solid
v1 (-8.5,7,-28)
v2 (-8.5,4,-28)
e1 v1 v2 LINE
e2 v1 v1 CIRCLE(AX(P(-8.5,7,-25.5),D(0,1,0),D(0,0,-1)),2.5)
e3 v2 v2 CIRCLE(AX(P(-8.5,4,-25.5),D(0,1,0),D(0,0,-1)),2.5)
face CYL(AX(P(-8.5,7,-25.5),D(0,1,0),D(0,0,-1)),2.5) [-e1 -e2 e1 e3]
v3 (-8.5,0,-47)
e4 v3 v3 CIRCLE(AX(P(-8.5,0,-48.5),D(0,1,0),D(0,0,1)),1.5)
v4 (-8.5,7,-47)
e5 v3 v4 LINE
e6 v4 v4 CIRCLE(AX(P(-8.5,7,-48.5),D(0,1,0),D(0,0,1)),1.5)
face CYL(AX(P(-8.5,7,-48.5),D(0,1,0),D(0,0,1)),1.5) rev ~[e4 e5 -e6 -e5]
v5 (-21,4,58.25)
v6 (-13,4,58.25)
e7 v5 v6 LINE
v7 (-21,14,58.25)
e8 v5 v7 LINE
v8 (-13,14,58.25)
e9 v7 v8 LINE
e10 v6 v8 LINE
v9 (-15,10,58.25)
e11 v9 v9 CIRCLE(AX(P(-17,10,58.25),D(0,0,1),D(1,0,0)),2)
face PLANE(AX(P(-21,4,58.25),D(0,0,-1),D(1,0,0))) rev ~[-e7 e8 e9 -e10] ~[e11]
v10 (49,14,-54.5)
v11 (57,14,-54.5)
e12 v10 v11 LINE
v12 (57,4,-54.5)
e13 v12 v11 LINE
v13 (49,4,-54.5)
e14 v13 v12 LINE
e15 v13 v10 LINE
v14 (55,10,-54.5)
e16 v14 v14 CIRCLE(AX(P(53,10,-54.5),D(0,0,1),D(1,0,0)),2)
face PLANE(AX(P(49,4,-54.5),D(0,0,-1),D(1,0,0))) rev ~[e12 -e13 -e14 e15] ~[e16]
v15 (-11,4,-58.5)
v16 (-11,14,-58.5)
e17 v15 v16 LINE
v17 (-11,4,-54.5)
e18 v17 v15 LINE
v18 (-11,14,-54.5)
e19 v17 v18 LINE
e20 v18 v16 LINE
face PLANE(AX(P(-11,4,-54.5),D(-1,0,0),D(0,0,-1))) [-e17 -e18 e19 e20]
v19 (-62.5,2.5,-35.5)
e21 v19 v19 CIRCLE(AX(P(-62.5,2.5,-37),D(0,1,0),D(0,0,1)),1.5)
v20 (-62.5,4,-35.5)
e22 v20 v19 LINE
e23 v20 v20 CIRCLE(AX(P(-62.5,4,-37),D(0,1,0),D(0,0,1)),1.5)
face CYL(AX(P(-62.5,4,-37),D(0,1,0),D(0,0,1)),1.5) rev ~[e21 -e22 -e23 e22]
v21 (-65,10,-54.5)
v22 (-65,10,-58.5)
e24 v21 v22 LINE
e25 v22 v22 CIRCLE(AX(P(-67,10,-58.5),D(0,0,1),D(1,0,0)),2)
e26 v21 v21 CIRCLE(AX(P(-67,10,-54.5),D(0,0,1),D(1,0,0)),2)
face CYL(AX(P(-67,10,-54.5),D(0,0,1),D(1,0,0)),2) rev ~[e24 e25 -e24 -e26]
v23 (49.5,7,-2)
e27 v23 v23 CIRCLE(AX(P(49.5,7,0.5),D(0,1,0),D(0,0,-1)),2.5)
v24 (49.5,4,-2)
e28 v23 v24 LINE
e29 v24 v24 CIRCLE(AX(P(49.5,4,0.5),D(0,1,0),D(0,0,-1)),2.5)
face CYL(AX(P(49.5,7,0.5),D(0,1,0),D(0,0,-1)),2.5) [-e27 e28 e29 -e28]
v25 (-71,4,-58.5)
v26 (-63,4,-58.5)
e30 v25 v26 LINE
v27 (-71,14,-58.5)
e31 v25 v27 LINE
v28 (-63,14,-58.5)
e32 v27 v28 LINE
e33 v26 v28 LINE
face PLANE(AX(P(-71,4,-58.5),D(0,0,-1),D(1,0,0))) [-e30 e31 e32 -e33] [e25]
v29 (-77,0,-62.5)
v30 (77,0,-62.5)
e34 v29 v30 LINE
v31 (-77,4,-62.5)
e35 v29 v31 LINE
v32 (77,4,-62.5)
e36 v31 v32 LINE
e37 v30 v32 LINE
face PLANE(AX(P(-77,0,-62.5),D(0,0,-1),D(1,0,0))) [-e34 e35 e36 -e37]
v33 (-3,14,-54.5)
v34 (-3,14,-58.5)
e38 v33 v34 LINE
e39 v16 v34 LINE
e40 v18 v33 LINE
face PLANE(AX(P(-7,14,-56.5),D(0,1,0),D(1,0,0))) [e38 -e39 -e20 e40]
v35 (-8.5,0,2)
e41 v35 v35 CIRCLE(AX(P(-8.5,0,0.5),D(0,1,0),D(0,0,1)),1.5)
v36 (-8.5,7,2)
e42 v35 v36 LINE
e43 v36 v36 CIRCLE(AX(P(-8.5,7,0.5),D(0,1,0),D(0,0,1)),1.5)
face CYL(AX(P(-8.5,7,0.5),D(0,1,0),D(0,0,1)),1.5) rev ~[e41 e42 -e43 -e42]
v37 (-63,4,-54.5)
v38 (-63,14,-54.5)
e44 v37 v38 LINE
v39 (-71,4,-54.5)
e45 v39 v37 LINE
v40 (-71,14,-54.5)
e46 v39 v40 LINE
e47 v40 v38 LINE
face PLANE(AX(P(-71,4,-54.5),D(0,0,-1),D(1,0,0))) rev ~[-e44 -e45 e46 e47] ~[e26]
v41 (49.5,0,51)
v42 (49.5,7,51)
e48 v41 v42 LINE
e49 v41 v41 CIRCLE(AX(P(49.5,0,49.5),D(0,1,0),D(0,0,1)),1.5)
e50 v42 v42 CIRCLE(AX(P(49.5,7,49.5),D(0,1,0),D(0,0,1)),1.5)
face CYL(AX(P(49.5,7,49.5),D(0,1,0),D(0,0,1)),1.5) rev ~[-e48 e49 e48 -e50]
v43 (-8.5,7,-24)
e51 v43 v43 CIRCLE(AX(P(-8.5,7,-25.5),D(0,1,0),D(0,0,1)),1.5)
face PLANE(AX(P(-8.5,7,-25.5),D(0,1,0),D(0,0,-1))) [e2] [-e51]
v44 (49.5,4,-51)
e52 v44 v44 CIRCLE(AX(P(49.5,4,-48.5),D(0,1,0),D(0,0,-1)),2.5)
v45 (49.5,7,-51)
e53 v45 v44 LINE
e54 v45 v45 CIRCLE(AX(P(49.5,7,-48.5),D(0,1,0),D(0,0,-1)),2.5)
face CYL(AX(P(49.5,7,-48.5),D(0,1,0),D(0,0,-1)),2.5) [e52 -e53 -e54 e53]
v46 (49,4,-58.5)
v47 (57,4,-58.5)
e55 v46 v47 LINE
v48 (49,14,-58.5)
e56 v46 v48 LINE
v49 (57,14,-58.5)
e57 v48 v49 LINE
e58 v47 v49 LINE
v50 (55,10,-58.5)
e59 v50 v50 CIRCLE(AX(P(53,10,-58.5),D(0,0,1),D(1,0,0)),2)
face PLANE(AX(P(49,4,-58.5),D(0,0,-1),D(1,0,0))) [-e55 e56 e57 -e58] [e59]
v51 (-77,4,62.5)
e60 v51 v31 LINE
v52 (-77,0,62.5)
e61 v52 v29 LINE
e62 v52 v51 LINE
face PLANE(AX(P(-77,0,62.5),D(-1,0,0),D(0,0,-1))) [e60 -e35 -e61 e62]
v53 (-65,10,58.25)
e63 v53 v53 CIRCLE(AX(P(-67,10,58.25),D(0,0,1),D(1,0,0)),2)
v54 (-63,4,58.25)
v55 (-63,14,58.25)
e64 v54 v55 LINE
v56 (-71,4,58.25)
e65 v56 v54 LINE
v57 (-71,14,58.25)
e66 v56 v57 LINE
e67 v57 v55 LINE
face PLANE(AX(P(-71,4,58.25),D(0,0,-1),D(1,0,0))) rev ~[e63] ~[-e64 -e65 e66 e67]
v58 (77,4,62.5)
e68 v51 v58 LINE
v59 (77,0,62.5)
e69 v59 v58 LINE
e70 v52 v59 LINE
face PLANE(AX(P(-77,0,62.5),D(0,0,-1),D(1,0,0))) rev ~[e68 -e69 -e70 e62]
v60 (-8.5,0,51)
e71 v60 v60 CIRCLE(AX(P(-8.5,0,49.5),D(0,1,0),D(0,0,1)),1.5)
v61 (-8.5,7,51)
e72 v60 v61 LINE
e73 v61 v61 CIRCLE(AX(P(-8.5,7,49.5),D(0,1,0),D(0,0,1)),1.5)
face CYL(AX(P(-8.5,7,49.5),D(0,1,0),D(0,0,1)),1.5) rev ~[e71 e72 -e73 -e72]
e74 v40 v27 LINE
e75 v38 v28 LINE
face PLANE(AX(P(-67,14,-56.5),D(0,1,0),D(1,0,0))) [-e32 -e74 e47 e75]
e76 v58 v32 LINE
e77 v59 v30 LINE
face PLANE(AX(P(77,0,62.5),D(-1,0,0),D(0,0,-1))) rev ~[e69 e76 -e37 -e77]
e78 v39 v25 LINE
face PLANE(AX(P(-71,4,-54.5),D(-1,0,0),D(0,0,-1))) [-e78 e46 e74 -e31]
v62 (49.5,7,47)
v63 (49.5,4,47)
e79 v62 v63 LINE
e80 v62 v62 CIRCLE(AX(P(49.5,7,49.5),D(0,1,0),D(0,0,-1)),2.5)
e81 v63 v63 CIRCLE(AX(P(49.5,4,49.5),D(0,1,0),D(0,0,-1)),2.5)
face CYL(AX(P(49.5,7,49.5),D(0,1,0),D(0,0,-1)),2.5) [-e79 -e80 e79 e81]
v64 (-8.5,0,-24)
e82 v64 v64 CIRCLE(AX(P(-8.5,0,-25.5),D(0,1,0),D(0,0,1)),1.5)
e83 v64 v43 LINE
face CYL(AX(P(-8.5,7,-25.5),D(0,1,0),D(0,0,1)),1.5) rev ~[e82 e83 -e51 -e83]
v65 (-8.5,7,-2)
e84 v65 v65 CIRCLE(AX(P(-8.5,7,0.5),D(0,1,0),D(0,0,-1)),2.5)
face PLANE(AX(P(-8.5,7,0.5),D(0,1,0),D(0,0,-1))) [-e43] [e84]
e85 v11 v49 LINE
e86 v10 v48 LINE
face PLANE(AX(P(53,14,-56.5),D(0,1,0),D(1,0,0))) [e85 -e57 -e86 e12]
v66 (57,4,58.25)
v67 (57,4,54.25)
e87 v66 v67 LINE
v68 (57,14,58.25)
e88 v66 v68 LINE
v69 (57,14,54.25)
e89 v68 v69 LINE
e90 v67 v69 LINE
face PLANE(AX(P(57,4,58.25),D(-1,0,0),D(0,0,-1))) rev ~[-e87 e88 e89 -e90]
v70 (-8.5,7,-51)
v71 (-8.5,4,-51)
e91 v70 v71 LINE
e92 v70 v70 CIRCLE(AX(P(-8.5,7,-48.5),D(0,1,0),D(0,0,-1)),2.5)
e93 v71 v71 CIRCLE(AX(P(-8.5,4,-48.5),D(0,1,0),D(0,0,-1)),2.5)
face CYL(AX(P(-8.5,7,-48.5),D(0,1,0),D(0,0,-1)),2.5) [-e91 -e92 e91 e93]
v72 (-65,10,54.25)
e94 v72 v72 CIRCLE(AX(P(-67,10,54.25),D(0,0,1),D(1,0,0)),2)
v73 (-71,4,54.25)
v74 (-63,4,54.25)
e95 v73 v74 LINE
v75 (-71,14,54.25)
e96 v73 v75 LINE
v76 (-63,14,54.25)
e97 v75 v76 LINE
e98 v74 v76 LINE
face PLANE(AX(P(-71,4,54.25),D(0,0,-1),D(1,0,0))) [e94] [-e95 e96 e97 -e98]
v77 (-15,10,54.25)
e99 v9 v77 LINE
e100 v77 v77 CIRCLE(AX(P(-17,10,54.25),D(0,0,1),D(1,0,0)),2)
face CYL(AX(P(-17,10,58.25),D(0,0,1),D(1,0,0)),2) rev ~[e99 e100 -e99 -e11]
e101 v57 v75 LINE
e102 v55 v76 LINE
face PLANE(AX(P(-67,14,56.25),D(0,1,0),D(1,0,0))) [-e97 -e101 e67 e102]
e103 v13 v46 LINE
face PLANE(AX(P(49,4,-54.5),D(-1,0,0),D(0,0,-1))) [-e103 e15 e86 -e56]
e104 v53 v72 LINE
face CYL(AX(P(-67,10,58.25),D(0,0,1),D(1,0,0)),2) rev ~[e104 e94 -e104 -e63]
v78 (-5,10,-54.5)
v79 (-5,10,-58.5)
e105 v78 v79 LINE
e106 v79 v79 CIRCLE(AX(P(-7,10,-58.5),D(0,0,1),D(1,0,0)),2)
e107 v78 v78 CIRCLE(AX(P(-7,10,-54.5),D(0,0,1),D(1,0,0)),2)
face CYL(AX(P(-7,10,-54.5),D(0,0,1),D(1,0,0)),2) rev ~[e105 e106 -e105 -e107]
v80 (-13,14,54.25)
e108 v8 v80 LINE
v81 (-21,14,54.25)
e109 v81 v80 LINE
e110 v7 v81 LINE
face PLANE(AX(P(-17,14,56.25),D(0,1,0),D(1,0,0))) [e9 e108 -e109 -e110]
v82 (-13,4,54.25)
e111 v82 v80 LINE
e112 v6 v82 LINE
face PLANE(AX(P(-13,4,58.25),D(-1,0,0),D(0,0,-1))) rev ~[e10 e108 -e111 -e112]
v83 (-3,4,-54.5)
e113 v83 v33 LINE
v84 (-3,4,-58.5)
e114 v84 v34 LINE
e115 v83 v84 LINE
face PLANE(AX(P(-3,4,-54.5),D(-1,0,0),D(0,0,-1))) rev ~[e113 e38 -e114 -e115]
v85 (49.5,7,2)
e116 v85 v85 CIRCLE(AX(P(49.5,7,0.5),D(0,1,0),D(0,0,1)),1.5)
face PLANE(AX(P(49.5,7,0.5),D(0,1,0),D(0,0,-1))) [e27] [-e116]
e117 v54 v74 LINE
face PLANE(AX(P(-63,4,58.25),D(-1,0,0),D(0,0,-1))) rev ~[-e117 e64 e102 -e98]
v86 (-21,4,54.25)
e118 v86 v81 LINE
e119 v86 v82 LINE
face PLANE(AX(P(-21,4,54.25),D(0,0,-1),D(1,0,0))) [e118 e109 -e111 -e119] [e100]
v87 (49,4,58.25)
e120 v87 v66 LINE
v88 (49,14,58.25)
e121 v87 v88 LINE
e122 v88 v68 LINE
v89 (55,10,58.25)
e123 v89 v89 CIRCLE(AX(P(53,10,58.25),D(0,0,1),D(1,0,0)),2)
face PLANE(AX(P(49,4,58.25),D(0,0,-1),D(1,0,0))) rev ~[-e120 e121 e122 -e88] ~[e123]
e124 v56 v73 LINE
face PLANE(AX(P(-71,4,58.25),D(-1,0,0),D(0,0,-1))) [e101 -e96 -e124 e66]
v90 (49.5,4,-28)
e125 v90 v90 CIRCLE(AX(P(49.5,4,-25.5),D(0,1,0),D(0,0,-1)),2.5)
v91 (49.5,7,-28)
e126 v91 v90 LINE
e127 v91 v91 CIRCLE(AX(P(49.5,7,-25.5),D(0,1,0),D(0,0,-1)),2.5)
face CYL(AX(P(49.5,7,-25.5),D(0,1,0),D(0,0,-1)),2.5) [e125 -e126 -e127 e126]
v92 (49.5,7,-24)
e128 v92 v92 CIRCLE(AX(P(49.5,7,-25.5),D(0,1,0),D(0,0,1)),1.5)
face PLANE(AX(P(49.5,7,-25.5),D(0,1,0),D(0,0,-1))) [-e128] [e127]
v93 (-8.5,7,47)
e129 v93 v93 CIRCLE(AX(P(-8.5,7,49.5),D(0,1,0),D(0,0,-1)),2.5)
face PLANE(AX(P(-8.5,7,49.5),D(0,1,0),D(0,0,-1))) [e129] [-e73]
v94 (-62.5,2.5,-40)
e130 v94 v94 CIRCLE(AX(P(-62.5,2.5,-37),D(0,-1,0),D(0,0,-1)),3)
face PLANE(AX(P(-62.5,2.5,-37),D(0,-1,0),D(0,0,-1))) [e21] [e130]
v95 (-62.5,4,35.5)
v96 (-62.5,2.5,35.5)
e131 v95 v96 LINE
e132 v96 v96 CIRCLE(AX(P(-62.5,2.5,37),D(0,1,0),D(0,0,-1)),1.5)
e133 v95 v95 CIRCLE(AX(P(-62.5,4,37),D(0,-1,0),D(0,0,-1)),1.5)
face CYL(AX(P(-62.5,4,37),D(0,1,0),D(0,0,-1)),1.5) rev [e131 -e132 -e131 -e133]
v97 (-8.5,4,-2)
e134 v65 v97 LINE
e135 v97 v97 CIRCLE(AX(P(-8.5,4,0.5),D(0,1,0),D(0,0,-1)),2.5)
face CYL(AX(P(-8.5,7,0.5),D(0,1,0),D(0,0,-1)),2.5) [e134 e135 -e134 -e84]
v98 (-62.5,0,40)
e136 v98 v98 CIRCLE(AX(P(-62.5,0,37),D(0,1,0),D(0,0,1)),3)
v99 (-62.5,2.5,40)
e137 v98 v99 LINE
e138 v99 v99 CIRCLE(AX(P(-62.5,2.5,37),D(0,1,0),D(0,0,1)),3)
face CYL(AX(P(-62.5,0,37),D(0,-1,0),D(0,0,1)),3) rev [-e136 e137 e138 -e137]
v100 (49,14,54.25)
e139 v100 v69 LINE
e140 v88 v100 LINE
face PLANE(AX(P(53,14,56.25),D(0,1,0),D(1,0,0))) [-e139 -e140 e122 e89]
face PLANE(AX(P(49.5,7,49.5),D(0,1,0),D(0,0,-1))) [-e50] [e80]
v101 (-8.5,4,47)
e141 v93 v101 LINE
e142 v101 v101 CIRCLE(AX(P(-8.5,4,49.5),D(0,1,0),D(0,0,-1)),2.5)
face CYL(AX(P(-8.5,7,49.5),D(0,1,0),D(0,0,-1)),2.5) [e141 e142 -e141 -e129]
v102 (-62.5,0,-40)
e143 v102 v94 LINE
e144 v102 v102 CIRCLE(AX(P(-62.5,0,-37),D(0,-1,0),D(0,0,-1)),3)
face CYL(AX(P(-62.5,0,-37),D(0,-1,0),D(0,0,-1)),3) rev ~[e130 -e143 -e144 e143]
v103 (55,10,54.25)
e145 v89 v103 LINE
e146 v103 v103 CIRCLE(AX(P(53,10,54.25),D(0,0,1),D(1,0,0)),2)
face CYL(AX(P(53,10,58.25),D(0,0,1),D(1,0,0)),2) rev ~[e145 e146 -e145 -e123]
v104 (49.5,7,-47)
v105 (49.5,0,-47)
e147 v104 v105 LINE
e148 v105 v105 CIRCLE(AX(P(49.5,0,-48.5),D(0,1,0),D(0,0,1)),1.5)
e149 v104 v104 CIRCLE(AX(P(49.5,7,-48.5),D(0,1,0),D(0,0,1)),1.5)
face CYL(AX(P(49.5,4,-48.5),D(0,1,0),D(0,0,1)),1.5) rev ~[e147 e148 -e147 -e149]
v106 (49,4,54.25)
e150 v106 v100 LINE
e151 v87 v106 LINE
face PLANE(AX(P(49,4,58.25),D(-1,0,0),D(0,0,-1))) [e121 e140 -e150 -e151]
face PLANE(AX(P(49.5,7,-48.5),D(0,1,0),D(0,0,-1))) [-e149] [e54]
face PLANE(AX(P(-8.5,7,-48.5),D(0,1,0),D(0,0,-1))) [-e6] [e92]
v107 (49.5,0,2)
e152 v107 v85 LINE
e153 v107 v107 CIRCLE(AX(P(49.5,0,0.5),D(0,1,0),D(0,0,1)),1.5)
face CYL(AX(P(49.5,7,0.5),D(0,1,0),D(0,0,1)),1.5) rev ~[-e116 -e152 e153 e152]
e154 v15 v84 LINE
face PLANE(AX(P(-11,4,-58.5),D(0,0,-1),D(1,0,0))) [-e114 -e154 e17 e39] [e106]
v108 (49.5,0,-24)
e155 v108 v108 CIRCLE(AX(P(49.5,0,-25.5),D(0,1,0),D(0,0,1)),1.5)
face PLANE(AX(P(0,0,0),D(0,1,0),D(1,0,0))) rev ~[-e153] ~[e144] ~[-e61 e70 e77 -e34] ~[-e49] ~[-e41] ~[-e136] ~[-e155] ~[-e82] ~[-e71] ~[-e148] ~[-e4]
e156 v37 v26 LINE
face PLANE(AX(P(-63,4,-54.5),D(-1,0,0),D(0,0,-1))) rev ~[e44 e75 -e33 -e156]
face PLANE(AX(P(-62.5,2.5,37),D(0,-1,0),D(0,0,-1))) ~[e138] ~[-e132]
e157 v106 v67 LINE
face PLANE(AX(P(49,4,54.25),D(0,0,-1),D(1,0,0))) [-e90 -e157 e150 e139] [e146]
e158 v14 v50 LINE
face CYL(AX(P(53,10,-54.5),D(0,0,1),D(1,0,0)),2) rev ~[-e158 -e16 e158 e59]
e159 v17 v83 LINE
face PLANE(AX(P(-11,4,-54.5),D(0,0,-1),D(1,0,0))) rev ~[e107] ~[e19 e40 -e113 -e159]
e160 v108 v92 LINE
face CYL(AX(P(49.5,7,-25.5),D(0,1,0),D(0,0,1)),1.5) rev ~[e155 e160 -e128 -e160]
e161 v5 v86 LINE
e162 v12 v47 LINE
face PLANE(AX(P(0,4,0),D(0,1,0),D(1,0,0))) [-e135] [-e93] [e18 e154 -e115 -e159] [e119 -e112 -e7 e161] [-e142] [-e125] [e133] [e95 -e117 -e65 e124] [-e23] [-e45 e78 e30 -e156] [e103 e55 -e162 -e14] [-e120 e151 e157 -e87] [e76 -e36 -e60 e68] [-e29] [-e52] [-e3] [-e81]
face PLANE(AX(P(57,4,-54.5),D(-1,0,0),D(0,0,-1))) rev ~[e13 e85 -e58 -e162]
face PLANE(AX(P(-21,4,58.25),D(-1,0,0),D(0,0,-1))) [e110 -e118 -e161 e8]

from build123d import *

# Parameters (mm, degrees)
SKETCH1_W                   = 154
SKETCH1_H                   = 125
BOSS_EXTRUDE1_DEPTH         = 4
CUT_EXTRUDE1_REACH          = 101.253
SKETCH3_R                   = 1.5
SKETCH15_R                  = 3
CUT_EXTRUDE7_DEPTH          = 2.5
CUT_EXTRUDE2_REACH          = 101.253
SKETCH4_R                   = 1.5
BOSS_EXTRUDE6_START         = 3
SKETCH17_R                  = 2.5
SKETCH17_R_2                = 1.5
BOSS_EXTRUDE6_DEPTH         = 3
LPATTERN1_COUNT             = 2
LPATTERN1_PITCH             = 58
LPATTERN2_COUNT             = 3
LPATTERN2_PITCH             = 49
LPATTERN2_COPY_1_REACH      = 101.253
LPATTERN2_COPY_1_SKETCH_R   = 1.5
LPATTERN2_COPY_2_REACH      = 101.253
LPATTERN2_COPY_2_SKETCH_R   = 1.5
LPATTERN2_START             = 3
LPATTERN2_COPY_3_SKETCH_R   = 2.5
LPATTERN2_COPY_3_SKETCH_R_2 = 1.5
LPATTERN2_COPY_3_DEPTH      = 3
LPATTERN2_COPY_4_SKETCH_R   = 2.5
LPATTERN2_COPY_4_SKETCH_R_2 = 1.5
LPATTERN2_COPY_4_DEPTH      = 3
LPATTERN3_COUNT             = 2
LPATTERN3_PITCH             = 75
LPATTERN3_COPY_1_REACH      = 101.253
LPATTERN3_COPY_1_SKETCH_R   = 1.5
LPATTERN3_START             = 3
LPATTERN3_COPY_2_SKETCH_R   = 2.5
LPATTERN3_COPY_2_SKETCH_R_2 = 1.5
LPATTERN3_COPY_2_DEPTH      = 3
SKETCH9_W                   = 8
SKETCH9_H                   = 4
BOSS_EXTRUDE4_DEPTH         = 10
CUT_EXTRUDE5_REACH          = 145.894
SKETCH10_R                  = 2
LPATTERN4_COUNT             = 2
LPATTERN4_PITCH             = 50
SKETCH12_W                  = 8
SKETCH12_H                  = 4
BOSS_EXTRUDE5_DEPTH         = 10
CUT_EXTRUDE6_REACH          = 144.588
SKETCH14_R                  = 2
LPATTERN5_COUNT             = 3
LPATTERN5_PITCH             = 60
LPATTERN6_COUNT             = 2
LPATTERN6_PITCH             = 120


with BuildPart() as part:
    # Sketch1 → Boss-Extrude1 (new body)
    with BuildSketch(Plane(origin=(0, 0, 0), x_dir=(1, 0, 0), z_dir=(0, 1, 0))):
        Rectangle(SKETCH1_W, SKETCH1_H)
    extrude(amount=BOSS_EXTRUDE1_DEPTH)

    # Sketch3 → Cut-Extrude1 (cut, up to next)
    with BuildSketch(Plane(origin=(0, 4, 0), x_dir=(1, 0, 0), z_dir=(0, 1, 0)), mode=Mode.PRIVATE) as cut_extrude1_sk1:
        with Locations(Location((-62.5, 37, 0), (0, 0, 270))):
            Circle(SKETCH3_R)
    cut_extrude1_tool1 = extrude(cut_extrude1_sk1.sketch, amount=-CUT_EXTRUDE1_REACH, mode=Mode.PRIVATE) & part.part
    cut_extrude1 = cut_extrude1_tool1.solids().sort_by_distance((-62.5, 4, -37))[0]
    add(cut_extrude1, mode=Mode.SUBTRACT)

    # Sketch15 → Cut-Extrude7 (cut)
    with BuildSketch(Plane.XZ):
        with Locations(Location((-62.5, -37, 0), (0, 0, 270))):
            Circle(SKETCH15_R)
    cut_extrude7 = extrude(amount=-CUT_EXTRUDE7_DEPTH, mode=Mode.SUBTRACT)

    # Mirror1: Cut-Extrude1, Cut-Extrude7 across plane
    add(cut_extrude1.mirror(Plane.XY), mode=Mode.SUBTRACT)
    add(cut_extrude7.mirror(Plane.XY), mode=Mode.SUBTRACT)

    # Sketch4 → Cut-Extrude2 (cut, up to next)
    with BuildSketch(Plane(origin=(0, 4, 0), x_dir=(1, 0, 0), z_dir=(0, 1, 0)), mode=Mode.PRIVATE) as cut_extrude2_sk1:
        with Locations(Location((49.5, -49.5, 0), (0, 0, 270))):
            Circle(SKETCH4_R)
    cut_extrude2_tool1 = extrude(cut_extrude2_sk1.sketch, amount=-CUT_EXTRUDE2_REACH, mode=Mode.PRIVATE) & part.part
    cut_extrude2 = cut_extrude2_tool1.solids().sort_by_distance((49.5, 4, 49.5))[0]
    add(cut_extrude2, mode=Mode.SUBTRACT)

    # Sketch17 → Boss-Extrude6 (add)
    with BuildSketch(Plane(origin=(0, 4, 0), x_dir=(1, 0, 0), z_dir=(0, 1, 0)).offset(BOSS_EXTRUDE6_START)):
        with Locations(Location((49.5, -49.5, 0), (0, 0, 90))):
            Circle(SKETCH17_R)
        with Locations(Location((49.5, -49.5, 0), (0, 0, 270))):
            Circle(SKETCH17_R_2, mode=Mode.SUBTRACT)
    boss_extrude6 = extrude(amount=-BOSS_EXTRUDE6_DEPTH)

    # LPattern1: Cut-Extrude2, Boss-Extrude6 ×2
    with Locations(*[(-i * LPATTERN1_PITCH, 0, 0) for i in range(1, LPATTERN1_COUNT)]):
        add(cut_extrude2, mode=Mode.SUBTRACT)
        add(boss_extrude6)

    # LPattern2: Cut-Extrude2, Boss-Extrude6 ×3
    with Locations(*[(0, 0, -i * LPATTERN2_PITCH) for i in range(1, LPATTERN2_COUNT)]):
        add(cut_extrude2, mode=Mode.SUBTRACT)
        add(boss_extrude6)

    # LPattern2 copy 1 sketch → LPattern2 copy 1 (cut, up to next)
    with BuildSketch(Plane(origin=(-58, 4, -49), x_dir=(1, 0, 0), z_dir=(0, 1, 0)), mode=Mode.PRIVATE) as lpattern2_copy_1_sk1:
        with Locations(Location((49.5, -49.5, 0), (0, 0, 270))):
            Circle(LPATTERN2_COPY_1_SKETCH_R)
    lpattern2_copy_1_tool1 = extrude(lpattern2_copy_1_sk1.sketch, amount=-LPATTERN2_COPY_1_REACH, mode=Mode.PRIVATE) & part.part
    add(lpattern2_copy_1_tool1.solids().sort_by_distance((-8.5, 4, 0.5))[0], mode=Mode.SUBTRACT)

    # LPattern2 copy 2 sketch → LPattern2 copy 2 (cut, up to next)
    with BuildSketch(Plane(origin=(-58, 4, -98), x_dir=(1, 0, 0), z_dir=(0, 1, 0)), mode=Mode.PRIVATE) as lpattern2_copy_2_sk1:
        with Locations(Location((49.5, -49.5, 0), (0, 0, 270))):
            Circle(LPATTERN2_COPY_2_SKETCH_R)
    lpattern2_copy_2_tool1 = extrude(lpattern2_copy_2_sk1.sketch, amount=-LPATTERN2_COPY_2_REACH, mode=Mode.PRIVATE) & part.part
    add(lpattern2_copy_2_tool1.solids().sort_by_distance((-8.5, 4, -48.5))[0], mode=Mode.SUBTRACT)

    # LPattern2 copy 3 sketch → LPattern2 copy 3 (add)
    with BuildSketch(Plane(origin=(-58, 4, -49), x_dir=(1, 0, 0), z_dir=(0, 1, 0)).offset(LPATTERN2_START)):
        with Locations(Location((49.5, -49.5, 0), (0, 0, 90))):
            Circle(LPATTERN2_COPY_3_SKETCH_R)
        with Locations(Location((49.5, -49.5, 0), (0, 0, 270))):
            Circle(LPATTERN2_COPY_3_SKETCH_R_2, mode=Mode.SUBTRACT)
    extrude(amount=-LPATTERN2_COPY_3_DEPTH)

    # LPattern2 copy 4 sketch → LPattern2 copy 4 (add)
    with BuildSketch(Plane(origin=(-58, 4, -98), x_dir=(1, 0, 0), z_dir=(0, 1, 0)).offset(LPATTERN2_START)):
        with Locations(Location((49.5, -49.5, 0), (0, 0, 90))):
            Circle(LPATTERN2_COPY_4_SKETCH_R)
        with Locations(Location((49.5, -49.5, 0), (0, 0, 270))):
            Circle(LPATTERN2_COPY_4_SKETCH_R_2, mode=Mode.SUBTRACT)
    extrude(amount=-LPATTERN2_COPY_4_DEPTH)

    # LPattern3: Cut-Extrude2, Boss-Extrude6 ×2
    with Locations(*[(0, 0, -i * LPATTERN3_PITCH) for i in range(1, LPATTERN3_COUNT)]):
        add(cut_extrude2, mode=Mode.SUBTRACT)
        add(boss_extrude6)

    # LPattern3 copy 1 sketch → LPattern3 copy 1 (cut, up to next)
    with BuildSketch(Plane(origin=(-58, 4, -75), x_dir=(1, 0, 0), z_dir=(0, 1, 0)), mode=Mode.PRIVATE) as lpattern3_copy_1_sk1:
        with Locations(Location((49.5, -49.5, 0), (0, 0, 270))):
            Circle(LPATTERN3_COPY_1_SKETCH_R)
    lpattern3_copy_1_tool1 = extrude(lpattern3_copy_1_sk1.sketch, amount=-LPATTERN3_COPY_1_REACH, mode=Mode.PRIVATE) & part.part
    add(lpattern3_copy_1_tool1.solids().sort_by_distance((-8.5, 4, -25.5))[0], mode=Mode.SUBTRACT)

    # LPattern3 copy 2 sketch → LPattern3 copy 2 (add)
    with BuildSketch(Plane(origin=(-58, 4, -75), x_dir=(1, 0, 0), z_dir=(0, 1, 0)).offset(LPATTERN3_START)):
        with Locations(Location((49.5, -49.5, 0), (0, 0, 90))):
            Circle(LPATTERN3_COPY_2_SKETCH_R)
        with Locations(Location((49.5, -49.5, 0), (0, 0, 270))):
            Circle(LPATTERN3_COPY_2_SKETCH_R_2, mode=Mode.SUBTRACT)
    extrude(amount=-LPATTERN3_COPY_2_DEPTH)

    # Sketch9 → Boss-Extrude4 (add)
    with BuildSketch(Plane(origin=(0, 4, 0), x_dir=(1, 0, 0), z_dir=(0, 1, 0))):
        with Locations((-67, -56.25)):
            Rectangle(SKETCH9_W, SKETCH9_H)
    boss_extrude4 = extrude(amount=BOSS_EXTRUDE4_DEPTH)

    # Sketch10 → Cut-Extrude5 (cut, up to next)
    with BuildSketch(Plane.XY.offset(58.25), mode=Mode.PRIVATE) as cut_extrude5_sk1:
        with Locations((-67, 10)):
            Circle(SKETCH10_R)
    cut_extrude5_tool1 = extrude(cut_extrude5_sk1.sketch, amount=-CUT_EXTRUDE5_REACH, mode=Mode.PRIVATE) & part.part
    cut_extrude5 = cut_extrude5_tool1.solids().sort_by_distance((-67, 10, 58.25))[0]
    add(cut_extrude5, mode=Mode.SUBTRACT)

    # LPattern4: Boss-Extrude4, Cut-Extrude5 ×2
    with Locations(*[(i * LPATTERN4_PITCH, 0, 0) for i in range(1, LPATTERN4_COUNT)]):
        add(boss_extrude4)
        add(cut_extrude5, mode=Mode.SUBTRACT)

    # Sketch12 → Boss-Extrude5 (add)
    with BuildSketch(Plane(origin=(-3.289149479, 4, -108.840697075), x_dir=(1, 0, 0), z_dir=(0, 1, 0))):
        with Locations((-63.710850521, -52.340697075)):
            Rectangle(SKETCH12_W, SKETCH12_H)
    boss_extrude5 = extrude(amount=BOSS_EXTRUDE5_DEPTH)

    # Sketch14 → Cut-Extrude6 (cut, up to next)
    with BuildSketch(Plane(origin=(-3.289149479, 0, -54.5), x_dir=(1, 0, 0), z_dir=(0, 0, 1)), mode=Mode.PRIVATE) as cut_extrude6_sk1:
        with Locations((-63.710850521, 10)):
            Circle(SKETCH14_R)
    cut_extrude6_tool1 = extrude(cut_extrude6_sk1.sketch, amount=-CUT_EXTRUDE6_REACH, mode=Mode.PRIVATE) & part.part
    cut_extrude6 = cut_extrude6_tool1.solids().sort_by_distance((-67, 10, -54.5))[0]
    add(cut_extrude6, mode=Mode.SUBTRACT)

    # LPattern5: Boss-Extrude5, Cut-Extrude6 ×3
    with Locations(*[(i * LPATTERN5_PITCH, 0, 0) for i in range(1, LPATTERN5_COUNT)]):
        add(boss_extrude5)
        add(cut_extrude6, mode=Mode.SUBTRACT)

    # LPattern6: Boss-Extrude4, Cut-Extrude5 ×2
    with Locations(*[(i * LPATTERN6_PITCH, 0, 0) for i in range(1, LPATTERN6_COUNT)]):
        add(boss_extrude4)
        add(cut_extrude5, mode=Mode.SUBTRACT)


solid = part.part
